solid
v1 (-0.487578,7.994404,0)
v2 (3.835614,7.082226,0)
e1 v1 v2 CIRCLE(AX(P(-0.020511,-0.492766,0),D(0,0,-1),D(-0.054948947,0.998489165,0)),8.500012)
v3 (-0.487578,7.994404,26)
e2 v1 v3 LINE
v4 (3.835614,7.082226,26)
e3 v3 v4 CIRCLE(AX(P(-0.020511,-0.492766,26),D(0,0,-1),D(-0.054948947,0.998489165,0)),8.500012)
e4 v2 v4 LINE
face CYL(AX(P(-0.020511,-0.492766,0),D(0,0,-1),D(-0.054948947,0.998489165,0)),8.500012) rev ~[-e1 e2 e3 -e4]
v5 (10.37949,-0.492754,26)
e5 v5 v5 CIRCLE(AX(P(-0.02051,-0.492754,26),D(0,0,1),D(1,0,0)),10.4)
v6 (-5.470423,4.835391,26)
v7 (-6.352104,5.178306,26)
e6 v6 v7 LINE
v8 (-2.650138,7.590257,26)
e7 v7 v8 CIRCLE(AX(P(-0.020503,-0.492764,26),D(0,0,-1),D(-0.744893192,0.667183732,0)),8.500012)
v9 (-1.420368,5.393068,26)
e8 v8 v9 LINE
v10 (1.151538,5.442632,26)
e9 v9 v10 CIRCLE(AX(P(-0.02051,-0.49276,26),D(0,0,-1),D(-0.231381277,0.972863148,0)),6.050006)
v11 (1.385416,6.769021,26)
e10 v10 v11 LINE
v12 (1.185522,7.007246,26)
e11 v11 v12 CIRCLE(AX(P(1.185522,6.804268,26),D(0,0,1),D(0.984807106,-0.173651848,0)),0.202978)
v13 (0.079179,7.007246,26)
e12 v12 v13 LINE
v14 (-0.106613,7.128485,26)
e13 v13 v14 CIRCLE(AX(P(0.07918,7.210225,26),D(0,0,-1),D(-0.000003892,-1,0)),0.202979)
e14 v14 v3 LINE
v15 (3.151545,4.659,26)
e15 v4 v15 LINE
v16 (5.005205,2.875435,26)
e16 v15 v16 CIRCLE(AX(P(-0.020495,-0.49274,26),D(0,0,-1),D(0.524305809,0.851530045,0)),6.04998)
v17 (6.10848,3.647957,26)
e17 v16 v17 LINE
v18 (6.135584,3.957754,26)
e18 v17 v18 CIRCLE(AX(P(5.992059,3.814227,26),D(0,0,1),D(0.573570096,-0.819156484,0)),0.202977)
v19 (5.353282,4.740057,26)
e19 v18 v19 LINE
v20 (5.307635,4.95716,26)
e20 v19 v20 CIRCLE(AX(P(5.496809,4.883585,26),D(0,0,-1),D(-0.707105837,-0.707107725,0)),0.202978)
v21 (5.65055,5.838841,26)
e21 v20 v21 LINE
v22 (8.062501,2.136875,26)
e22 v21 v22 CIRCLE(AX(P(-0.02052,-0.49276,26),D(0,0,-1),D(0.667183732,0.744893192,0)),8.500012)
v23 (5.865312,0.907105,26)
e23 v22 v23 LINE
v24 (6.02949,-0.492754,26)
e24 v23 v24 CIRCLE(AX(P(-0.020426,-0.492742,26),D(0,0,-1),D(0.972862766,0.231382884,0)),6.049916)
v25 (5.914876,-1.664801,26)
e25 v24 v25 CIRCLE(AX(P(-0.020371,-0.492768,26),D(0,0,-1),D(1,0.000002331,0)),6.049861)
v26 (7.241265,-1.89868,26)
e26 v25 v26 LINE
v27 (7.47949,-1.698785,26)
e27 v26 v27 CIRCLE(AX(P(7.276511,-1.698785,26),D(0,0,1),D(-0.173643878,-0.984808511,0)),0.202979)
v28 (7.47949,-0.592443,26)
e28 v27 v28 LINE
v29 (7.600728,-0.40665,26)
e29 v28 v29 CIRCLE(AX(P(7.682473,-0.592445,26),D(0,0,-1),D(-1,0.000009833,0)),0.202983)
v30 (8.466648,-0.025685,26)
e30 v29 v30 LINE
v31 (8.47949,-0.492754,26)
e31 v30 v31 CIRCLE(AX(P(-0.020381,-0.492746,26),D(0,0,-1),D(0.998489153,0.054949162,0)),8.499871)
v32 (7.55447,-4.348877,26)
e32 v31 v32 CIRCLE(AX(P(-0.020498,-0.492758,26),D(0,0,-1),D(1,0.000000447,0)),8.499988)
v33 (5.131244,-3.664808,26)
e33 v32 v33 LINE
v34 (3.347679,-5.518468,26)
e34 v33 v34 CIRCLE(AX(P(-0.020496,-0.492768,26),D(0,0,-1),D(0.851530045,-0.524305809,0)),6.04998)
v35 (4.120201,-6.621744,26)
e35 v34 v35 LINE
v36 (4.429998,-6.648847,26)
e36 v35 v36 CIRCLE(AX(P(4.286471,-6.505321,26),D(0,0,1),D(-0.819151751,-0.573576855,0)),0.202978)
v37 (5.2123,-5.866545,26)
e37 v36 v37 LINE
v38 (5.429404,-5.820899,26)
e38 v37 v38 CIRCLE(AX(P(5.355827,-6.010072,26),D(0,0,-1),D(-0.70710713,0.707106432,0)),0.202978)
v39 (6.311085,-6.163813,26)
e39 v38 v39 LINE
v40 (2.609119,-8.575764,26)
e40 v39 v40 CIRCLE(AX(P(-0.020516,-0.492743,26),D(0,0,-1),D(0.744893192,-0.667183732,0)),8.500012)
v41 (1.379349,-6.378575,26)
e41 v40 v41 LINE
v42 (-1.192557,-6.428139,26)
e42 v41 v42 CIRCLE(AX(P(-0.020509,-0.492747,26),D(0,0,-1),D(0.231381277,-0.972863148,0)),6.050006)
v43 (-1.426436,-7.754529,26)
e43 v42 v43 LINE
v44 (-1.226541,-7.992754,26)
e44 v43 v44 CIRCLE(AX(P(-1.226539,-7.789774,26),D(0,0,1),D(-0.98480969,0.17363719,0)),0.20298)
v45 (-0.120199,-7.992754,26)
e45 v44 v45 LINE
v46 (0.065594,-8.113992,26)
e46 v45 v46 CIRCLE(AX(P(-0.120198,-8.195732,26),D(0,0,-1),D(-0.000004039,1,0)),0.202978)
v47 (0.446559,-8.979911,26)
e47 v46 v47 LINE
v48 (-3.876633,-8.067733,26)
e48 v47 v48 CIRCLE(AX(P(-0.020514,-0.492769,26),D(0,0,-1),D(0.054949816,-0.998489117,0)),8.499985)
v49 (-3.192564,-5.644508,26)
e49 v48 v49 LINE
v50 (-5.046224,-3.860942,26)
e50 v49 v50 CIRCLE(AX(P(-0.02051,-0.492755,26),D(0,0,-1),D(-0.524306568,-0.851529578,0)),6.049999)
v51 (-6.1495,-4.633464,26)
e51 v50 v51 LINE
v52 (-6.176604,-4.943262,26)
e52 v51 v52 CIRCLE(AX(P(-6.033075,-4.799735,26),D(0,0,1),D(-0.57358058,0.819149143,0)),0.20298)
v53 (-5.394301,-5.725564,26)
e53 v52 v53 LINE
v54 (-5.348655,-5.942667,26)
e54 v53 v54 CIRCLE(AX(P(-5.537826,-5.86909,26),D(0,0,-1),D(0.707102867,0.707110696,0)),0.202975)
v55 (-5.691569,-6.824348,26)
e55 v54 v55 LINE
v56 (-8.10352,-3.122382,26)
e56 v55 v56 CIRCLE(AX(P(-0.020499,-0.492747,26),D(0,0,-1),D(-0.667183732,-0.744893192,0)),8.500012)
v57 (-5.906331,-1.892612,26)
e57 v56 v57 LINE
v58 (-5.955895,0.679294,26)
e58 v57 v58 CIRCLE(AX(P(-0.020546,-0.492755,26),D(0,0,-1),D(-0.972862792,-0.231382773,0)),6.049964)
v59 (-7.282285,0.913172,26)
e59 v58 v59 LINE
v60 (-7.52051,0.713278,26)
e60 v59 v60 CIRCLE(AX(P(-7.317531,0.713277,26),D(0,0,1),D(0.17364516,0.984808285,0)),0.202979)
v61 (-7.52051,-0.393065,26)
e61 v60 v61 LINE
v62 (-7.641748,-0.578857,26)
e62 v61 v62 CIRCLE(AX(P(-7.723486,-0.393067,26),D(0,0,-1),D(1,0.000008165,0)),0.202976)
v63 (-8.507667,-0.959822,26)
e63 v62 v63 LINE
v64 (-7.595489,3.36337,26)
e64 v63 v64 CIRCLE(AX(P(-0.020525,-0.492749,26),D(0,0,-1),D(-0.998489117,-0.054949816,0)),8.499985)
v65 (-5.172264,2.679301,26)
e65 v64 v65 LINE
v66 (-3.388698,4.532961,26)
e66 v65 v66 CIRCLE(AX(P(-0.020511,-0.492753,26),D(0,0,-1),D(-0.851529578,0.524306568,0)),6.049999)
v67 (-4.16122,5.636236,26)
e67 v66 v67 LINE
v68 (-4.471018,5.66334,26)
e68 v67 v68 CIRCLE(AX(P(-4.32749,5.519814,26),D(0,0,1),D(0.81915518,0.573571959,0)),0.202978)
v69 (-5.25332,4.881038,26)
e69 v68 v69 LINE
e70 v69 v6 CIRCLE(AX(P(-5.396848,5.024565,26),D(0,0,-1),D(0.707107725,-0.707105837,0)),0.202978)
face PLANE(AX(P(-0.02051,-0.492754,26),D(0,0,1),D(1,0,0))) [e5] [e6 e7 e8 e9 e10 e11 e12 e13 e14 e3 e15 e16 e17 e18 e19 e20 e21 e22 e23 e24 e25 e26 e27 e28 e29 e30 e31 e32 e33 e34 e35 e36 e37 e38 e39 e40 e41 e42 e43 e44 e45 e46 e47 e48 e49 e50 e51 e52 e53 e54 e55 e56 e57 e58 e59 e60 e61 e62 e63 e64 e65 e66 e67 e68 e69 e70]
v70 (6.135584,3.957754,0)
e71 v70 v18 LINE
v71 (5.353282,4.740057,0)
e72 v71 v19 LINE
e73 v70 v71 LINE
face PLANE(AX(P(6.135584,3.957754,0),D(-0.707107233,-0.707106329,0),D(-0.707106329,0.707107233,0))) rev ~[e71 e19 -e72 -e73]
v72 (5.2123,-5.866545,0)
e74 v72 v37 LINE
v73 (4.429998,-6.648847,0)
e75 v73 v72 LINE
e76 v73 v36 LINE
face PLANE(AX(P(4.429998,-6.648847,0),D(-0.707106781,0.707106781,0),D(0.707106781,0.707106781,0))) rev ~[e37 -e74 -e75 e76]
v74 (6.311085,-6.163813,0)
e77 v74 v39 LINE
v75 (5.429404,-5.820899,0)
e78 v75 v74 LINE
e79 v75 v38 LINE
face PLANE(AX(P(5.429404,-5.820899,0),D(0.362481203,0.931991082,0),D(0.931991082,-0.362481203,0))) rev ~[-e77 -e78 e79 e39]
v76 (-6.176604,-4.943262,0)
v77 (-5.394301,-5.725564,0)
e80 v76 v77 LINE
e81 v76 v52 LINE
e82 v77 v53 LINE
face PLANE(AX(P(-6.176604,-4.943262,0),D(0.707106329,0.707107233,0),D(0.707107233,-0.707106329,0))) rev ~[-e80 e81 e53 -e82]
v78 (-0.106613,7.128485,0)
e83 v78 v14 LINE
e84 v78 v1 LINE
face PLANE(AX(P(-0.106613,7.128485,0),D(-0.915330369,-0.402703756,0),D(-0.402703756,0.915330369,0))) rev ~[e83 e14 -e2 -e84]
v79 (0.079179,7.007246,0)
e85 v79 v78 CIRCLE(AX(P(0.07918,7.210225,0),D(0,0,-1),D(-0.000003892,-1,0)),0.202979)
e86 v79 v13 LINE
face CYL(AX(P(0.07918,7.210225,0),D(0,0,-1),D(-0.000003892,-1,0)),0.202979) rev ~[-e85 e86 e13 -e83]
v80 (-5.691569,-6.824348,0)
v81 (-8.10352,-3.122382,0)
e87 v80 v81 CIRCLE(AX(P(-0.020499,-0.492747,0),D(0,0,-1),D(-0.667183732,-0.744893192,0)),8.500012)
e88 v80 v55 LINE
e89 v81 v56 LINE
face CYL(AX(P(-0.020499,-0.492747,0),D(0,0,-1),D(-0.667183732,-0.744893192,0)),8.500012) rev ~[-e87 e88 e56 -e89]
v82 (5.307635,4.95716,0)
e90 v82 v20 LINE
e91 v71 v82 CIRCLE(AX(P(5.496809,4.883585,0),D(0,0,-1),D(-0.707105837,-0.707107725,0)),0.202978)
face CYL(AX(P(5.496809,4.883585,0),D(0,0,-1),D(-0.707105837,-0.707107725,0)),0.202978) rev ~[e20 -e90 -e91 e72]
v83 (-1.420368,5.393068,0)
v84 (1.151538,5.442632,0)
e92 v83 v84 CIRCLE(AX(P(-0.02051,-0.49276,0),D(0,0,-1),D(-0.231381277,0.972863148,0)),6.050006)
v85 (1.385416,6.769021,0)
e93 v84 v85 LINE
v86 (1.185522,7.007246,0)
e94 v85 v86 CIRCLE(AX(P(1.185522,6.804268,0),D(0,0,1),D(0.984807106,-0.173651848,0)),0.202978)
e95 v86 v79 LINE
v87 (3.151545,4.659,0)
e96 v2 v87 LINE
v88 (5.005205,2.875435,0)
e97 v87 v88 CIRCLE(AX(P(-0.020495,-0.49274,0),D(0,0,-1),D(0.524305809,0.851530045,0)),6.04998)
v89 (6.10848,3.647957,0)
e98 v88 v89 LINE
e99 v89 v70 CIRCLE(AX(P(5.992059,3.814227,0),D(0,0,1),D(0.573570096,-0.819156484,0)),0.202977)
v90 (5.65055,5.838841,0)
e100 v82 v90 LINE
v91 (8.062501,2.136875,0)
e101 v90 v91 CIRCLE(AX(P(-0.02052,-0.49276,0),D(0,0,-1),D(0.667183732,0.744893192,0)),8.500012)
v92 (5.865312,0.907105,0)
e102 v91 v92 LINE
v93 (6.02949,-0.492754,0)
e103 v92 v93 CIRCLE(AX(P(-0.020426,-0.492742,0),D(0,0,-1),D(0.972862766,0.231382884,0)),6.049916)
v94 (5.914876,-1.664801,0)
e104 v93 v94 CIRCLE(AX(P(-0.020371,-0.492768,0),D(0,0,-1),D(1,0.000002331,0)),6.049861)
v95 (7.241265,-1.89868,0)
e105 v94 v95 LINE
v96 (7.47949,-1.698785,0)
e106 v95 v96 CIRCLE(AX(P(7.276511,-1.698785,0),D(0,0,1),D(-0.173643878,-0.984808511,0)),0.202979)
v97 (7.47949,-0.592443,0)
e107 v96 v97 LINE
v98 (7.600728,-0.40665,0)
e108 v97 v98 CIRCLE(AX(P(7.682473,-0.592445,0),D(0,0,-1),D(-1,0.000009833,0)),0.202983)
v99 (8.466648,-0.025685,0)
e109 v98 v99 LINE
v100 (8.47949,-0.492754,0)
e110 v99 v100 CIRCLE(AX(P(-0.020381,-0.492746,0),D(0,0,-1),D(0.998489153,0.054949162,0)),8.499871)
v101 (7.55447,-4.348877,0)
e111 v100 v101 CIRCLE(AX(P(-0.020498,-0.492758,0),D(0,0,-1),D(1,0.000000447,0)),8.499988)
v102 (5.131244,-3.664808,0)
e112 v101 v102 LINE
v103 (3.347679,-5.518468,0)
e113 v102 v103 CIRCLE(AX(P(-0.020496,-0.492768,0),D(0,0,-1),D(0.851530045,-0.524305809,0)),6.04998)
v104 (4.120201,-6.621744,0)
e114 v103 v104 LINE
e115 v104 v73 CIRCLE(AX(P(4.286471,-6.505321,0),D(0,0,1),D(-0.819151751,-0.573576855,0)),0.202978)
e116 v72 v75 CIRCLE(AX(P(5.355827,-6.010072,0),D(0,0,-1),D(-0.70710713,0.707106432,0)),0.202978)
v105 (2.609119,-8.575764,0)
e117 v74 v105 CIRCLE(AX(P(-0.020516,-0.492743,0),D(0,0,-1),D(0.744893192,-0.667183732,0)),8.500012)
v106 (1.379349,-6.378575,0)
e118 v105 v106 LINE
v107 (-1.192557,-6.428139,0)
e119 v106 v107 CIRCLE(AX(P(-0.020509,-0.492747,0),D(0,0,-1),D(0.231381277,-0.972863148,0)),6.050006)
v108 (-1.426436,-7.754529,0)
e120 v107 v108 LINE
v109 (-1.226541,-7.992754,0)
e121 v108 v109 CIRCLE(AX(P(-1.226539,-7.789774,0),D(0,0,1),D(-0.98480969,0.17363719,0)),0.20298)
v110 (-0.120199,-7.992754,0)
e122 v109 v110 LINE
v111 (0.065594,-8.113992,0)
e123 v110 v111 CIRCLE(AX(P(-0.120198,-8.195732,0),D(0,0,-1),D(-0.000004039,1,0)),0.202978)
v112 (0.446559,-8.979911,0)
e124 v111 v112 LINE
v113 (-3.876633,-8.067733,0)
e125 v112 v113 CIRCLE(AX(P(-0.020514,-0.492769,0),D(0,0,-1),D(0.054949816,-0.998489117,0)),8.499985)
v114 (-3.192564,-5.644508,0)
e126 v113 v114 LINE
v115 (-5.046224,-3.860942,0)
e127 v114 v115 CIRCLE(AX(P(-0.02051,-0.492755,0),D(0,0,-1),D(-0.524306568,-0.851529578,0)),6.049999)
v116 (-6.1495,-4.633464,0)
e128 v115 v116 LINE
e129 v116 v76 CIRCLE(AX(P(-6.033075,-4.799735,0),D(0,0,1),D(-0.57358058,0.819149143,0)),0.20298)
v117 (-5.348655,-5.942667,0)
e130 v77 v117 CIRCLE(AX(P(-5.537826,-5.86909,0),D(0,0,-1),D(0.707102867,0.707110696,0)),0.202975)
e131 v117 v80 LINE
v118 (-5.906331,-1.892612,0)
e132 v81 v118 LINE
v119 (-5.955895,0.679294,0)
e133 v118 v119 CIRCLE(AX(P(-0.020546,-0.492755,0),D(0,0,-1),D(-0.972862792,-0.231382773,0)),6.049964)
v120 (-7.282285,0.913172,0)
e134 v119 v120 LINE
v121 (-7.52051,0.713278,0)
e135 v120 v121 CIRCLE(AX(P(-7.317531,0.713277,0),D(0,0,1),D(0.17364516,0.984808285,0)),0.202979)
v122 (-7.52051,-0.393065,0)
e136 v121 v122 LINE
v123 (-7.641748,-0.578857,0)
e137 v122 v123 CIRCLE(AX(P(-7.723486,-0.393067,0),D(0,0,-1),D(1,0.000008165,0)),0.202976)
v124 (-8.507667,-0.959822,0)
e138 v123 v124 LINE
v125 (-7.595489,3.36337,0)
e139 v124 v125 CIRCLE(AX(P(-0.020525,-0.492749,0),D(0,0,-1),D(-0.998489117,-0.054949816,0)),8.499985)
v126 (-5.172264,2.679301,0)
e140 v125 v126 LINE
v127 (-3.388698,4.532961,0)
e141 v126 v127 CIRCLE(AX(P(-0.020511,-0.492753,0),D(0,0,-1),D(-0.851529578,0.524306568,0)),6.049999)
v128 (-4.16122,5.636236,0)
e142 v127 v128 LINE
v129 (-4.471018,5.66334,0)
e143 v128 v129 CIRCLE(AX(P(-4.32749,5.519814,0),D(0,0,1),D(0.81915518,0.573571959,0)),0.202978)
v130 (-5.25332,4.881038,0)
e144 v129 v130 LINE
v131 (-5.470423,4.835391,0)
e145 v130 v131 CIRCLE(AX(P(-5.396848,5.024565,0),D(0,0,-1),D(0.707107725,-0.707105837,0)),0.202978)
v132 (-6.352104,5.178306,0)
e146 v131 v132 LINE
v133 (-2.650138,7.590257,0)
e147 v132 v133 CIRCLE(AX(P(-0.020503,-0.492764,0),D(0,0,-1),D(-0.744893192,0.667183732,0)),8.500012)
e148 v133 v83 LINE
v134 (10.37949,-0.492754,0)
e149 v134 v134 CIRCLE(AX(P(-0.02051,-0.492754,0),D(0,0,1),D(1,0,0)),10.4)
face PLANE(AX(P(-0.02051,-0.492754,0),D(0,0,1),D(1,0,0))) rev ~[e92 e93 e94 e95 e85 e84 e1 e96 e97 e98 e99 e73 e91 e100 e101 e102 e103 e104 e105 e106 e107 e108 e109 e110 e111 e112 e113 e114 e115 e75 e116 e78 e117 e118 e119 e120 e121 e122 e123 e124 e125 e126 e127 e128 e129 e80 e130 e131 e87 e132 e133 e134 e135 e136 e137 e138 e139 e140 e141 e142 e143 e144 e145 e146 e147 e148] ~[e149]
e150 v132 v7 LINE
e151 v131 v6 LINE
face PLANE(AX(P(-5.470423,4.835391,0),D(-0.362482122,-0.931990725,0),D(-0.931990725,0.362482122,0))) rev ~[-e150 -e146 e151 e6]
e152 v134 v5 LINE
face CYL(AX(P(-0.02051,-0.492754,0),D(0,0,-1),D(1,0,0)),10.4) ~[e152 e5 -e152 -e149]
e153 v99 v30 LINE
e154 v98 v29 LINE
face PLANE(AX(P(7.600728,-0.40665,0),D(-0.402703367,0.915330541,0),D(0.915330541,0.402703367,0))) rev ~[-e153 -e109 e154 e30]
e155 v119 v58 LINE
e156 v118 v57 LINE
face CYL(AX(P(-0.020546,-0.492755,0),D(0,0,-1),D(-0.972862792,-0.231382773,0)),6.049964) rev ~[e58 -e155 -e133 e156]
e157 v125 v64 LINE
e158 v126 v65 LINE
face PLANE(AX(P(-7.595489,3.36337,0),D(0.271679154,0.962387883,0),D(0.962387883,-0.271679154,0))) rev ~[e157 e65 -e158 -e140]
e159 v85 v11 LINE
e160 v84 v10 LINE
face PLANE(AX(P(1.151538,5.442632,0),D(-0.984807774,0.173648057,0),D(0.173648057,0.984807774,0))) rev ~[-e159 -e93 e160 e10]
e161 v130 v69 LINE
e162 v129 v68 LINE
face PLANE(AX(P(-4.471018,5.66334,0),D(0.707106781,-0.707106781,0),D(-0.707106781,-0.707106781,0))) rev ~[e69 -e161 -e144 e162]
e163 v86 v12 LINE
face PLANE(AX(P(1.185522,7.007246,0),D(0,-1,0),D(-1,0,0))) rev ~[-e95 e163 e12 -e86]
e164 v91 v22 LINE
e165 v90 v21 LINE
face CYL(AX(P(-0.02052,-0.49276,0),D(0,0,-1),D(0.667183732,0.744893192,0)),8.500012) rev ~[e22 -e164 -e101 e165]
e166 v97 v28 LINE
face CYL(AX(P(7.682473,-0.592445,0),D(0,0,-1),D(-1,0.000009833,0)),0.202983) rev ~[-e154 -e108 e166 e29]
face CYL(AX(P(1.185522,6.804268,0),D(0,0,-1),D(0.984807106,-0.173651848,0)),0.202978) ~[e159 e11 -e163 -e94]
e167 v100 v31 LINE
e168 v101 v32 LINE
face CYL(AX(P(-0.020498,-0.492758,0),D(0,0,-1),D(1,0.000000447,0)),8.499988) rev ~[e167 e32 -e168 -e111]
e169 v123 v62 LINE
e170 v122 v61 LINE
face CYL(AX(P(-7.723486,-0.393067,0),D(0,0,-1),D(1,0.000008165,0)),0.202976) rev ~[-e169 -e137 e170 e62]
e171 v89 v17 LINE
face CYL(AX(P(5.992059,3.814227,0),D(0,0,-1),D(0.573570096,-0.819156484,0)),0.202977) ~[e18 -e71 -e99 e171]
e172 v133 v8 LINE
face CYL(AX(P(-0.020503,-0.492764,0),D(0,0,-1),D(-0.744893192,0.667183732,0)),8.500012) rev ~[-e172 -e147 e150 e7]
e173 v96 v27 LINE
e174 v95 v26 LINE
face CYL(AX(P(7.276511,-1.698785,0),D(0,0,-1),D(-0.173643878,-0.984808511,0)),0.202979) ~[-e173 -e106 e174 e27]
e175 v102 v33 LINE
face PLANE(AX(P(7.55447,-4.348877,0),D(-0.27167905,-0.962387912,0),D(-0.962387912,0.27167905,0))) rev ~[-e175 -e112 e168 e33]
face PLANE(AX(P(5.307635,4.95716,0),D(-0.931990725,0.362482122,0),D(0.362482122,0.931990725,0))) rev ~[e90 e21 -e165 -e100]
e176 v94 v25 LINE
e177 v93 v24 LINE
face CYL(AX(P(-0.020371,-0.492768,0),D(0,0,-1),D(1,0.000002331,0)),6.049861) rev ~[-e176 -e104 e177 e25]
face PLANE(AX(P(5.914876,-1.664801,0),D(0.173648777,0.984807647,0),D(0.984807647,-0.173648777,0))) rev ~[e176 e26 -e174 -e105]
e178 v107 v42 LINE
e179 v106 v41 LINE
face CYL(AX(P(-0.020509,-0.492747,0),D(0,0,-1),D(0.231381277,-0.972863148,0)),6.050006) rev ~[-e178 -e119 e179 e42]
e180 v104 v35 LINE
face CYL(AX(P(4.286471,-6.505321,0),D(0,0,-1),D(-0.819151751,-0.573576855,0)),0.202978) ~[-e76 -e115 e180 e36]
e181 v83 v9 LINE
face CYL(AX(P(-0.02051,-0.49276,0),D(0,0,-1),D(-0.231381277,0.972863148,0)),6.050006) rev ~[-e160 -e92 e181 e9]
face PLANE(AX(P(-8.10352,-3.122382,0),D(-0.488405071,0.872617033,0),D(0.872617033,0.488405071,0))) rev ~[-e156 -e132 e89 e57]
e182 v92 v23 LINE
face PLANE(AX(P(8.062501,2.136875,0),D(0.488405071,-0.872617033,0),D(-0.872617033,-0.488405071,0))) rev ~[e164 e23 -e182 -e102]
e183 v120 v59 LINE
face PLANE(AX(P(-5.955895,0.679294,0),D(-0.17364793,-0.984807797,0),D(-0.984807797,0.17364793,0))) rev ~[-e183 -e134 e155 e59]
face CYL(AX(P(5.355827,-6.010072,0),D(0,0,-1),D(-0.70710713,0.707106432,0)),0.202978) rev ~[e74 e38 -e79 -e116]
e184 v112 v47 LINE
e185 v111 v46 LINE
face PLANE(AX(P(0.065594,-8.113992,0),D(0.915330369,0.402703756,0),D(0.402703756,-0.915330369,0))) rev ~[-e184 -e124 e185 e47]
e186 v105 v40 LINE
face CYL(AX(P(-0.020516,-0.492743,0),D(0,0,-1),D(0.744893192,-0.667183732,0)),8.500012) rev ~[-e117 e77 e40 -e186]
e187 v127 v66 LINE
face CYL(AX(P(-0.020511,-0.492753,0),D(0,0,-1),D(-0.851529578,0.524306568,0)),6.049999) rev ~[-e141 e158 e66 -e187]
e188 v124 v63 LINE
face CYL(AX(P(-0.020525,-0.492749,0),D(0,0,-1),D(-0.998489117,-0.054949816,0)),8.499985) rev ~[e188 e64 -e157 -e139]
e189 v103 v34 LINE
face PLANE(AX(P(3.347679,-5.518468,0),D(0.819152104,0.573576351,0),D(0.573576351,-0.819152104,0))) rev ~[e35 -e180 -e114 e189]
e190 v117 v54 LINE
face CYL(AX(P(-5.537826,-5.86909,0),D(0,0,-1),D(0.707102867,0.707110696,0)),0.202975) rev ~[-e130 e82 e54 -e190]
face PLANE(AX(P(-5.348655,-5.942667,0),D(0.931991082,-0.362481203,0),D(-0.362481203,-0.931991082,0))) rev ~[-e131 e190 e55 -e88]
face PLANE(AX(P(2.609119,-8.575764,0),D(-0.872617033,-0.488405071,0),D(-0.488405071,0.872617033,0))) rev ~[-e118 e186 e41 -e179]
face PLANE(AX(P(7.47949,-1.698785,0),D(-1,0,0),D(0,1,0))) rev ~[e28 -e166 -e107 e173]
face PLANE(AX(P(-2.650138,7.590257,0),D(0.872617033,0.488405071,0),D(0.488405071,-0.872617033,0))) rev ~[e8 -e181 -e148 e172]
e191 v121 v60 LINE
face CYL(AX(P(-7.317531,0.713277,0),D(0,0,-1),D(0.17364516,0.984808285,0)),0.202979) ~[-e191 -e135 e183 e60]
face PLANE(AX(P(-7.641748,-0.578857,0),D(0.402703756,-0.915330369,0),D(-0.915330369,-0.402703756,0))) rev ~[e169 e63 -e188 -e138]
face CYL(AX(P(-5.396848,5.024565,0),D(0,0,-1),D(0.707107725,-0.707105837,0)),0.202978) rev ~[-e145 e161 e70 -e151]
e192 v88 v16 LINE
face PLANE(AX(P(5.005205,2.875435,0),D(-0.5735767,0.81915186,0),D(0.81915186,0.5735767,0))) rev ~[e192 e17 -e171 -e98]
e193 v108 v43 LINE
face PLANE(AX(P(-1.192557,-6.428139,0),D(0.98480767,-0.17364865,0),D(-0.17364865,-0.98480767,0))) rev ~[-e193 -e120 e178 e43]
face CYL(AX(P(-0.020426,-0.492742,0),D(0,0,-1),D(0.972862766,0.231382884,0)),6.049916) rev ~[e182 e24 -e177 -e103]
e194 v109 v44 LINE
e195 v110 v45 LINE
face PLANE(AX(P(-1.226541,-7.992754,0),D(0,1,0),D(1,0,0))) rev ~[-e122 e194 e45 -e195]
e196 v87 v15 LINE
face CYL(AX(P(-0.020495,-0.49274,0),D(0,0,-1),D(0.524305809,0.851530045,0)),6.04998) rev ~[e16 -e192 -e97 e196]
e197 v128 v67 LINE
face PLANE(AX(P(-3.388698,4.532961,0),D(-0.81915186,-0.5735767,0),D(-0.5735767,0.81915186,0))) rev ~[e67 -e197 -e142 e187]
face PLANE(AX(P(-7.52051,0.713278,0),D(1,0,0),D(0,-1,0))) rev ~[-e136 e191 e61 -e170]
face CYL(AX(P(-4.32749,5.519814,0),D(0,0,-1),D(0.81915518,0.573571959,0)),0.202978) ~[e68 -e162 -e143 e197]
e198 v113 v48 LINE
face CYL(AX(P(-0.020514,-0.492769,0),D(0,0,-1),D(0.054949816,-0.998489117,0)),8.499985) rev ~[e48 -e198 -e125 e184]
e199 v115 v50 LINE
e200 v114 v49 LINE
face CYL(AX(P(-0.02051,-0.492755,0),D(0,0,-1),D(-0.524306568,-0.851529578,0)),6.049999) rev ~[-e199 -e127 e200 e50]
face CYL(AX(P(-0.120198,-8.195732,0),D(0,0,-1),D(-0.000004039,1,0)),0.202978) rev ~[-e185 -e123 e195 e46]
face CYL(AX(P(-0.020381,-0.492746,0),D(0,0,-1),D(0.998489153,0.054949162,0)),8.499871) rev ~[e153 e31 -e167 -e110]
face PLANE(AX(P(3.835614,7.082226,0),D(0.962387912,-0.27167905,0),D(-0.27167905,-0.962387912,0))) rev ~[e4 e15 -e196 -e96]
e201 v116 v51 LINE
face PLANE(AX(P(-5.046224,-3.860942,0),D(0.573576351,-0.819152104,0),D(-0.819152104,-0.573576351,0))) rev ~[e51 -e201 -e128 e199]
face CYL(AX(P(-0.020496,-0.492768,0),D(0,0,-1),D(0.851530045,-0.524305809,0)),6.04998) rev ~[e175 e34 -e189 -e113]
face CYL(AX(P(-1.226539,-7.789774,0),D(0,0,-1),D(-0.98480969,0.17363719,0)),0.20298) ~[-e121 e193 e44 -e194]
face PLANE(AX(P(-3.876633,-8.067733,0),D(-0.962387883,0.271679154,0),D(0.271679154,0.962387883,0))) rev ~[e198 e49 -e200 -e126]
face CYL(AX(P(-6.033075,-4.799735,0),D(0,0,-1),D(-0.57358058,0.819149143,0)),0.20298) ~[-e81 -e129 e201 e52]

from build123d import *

# Parameters (mm, degrees)
F0_R     = 10.4
F1_DEPTH = 26


with BuildPart() as f1:
    # F0 (on Top) → F1 (new body)
    with BuildSketch(Plane.XY):
        with Locations((-0.02051, -0.492754)):
            Circle(F0_R)
        with BuildLine():
            ThreePointArc((5.65055, 5.838841), (7.10127, 4.147317), (8.062501, 2.136875))
            ThreePointArc((8.062501, 2.136875), (8.334835, 1.068726), (8.466648, -0.025685))
            ThreePointArc((8.466648, -0.025685), (8.476279, -0.259131), (8.47949, -0.492754))
            ThreePointArc((8.47949, -0.492754), (8.245001, -2.475514), (7.55447, -4.348877))
            ThreePointArc((7.55447, -4.348877), (6.991744, -5.296742), (6.311085, -6.163813))
            ThreePointArc((6.311085, -6.163813), (4.619561, -7.614533), (2.609119, -8.575764))
            ThreePointArc((2.609119, -8.575764), (1.540969, -8.848098), (0.446559, -8.979911))
            ThreePointArc((0.446559, -8.979911), (-1.775343, -8.809638), (-3.876633, -8.067733))
            ThreePointArc((-3.876633, -8.067733), (-4.824498, -7.505007), (-5.691569, -6.824348))
            ThreePointArc((-5.691569, -6.824348), (-7.142289, -5.132824), (-8.10352, -3.122382))
            ThreePointArc((-8.10352, -3.122382), (-8.375854, -2.054233), (-8.507667, -0.959822))
            ThreePointArc((-8.507667, -0.959822), (-8.337394, 1.26208), (-7.595489, 3.36337))
            ThreePointArc((-7.595489, 3.36337), (-7.032763, 4.311235), (-6.352104, 5.178306))
            ThreePointArc((-6.352104, 5.178306), (-4.66058, 6.629026), (-2.650138, 7.590257))
            ThreePointArc((-2.650138, 7.590257), (-1.581989, 7.862591), (-0.487578, 7.994404))
            ThreePointArc((-0.487578, 7.994404), (1.734324, 7.82413), (3.835614, 7.082226))
            ThreePointArc((3.835614, 7.082226), (4.783479, 6.5195), (5.65055, 5.838841))
        make_face(mode=Mode.SUBTRACT)
        with BuildLine():
            ThreePointArc((-5.906331, -1.892612), (-6.069387, -0.609324), (-5.955895, 0.679294))
            Line((-5.955895, 0.679294), (-7.282285, 0.913172))
            ThreePointArc((-7.282285, 0.913172), (-7.448003, 0.868768), (-7.52051, 0.713278))
            Line((-7.52051, 0.713278), (-7.52051, -0.393065))
            ThreePointArc((-7.52051, -0.393065), (-7.5535, -0.50399), (-7.641748, -0.578857))
            Line((-7.641748, -0.578857), (-8.507667, -0.959822))
            ThreePointArc((-8.507667, -0.959822), (-8.375854, -2.054233), (-8.10352, -3.122382))
            Line((-8.10352, -3.122382), (-5.906331, -1.892612))
        make_face()
        with BuildLine():
            ThreePointArc((-5.172264, 2.679301), (-4.380139, 3.702021), (-3.388698, 4.532961))
            Line((-3.388698, 4.532961), (-4.16122, 5.636236))
            ThreePointArc((-4.16122, 5.636236), (-4.309799, 5.722019), (-4.471018, 5.66334))
            Line((-4.471018, 5.66334), (-5.25332, 4.881038))
            ThreePointArc((-5.25332, 4.881038), (-5.355083, 4.82593), (-5.470423, 4.835391))
            Line((-5.470423, 4.835391), (-6.352104, 5.178306))
            ThreePointArc((-6.352104, 5.178306), (-7.032763, 4.311235), (-7.595489, 3.36337))
            Line((-7.595489, 3.36337), (-5.172264, 2.679301))
        make_face()
        with BuildLine():
            ThreePointArc((-1.420368, 5.393068), (-0.13708, 5.556123), (1.151538, 5.442632))
            Line((1.151538, 5.442632), (1.385416, 6.769021))
            ThreePointArc((1.385416, 6.769021), (1.341012, 6.93474), (1.185522, 7.007246))
            Line((1.185522, 7.007246), (0.079179, 7.007246))
            ThreePointArc((0.079179, 7.007246), (-0.031746, 7.040237), (-0.106613, 7.128485))
            Line((-0.106613, 7.128485), (-0.487578, 7.994404))
            ThreePointArc((-0.487578, 7.994404), (-1.581989, 7.862591), (-2.650138, 7.590257))
            Line((-2.650138, 7.590257), (-1.420368, 5.393068))
        make_face()
        with BuildLine():
            ThreePointArc((3.151545, 4.659), (4.174265, 3.866876), (5.005205, 2.875435))
            Line((5.005205, 2.875435), (6.10848, 3.647957))
            ThreePointArc((6.10848, 3.647957), (6.194263, 3.796536), (6.135584, 3.957754))
            Line((6.135584, 3.957754), (5.353282, 4.740057))
            ThreePointArc((5.353282, 4.740057), (5.298174, 4.84182), (5.307635, 4.95716))
            Line((5.307635, 4.95716), (5.65055, 5.838841))
            ThreePointArc((5.65055, 5.838841), (4.783479, 6.5195), (3.835614, 7.082226))
            Line((3.835614, 7.082226), (3.151545, 4.659))
        make_face()
        with BuildLine():
            ThreePointArc((5.865312, 0.907105), (5.988306, 0.211973), (6.02949, -0.492754))
            ThreePointArc((6.02949, -0.492754), (6.000769, -1.081573), (5.914876, -1.664801))
            Line((5.914876, -1.664801), (7.241265, -1.89868))
            ThreePointArc((7.241265, -1.89868), (7.406984, -1.854275), (7.47949, -1.698785))
            Line((7.47949, -1.698785), (7.47949, -0.592443))
            ThreePointArc((7.47949, -0.592443), (7.512481, -0.481518), (7.600728, -0.40665))
            Line((7.600728, -0.40665), (8.466648, -0.025685))
            ThreePointArc((8.466648, -0.025685), (8.334835, 1.068726), (8.062501, 2.136875))
            Line((8.062501, 2.136875), (5.865312, 0.907105))
        make_face()
        with BuildLine():
            Line((7.55447, -4.348877), (5.131244, -3.664808))
            ThreePointArc((5.131244, -3.664808), (4.33912, -4.687528), (3.347679, -5.518468))
            Line((3.347679, -5.518468), (4.120201, -6.621744))
            ThreePointArc((4.120201, -6.621744), (4.26878, -6.707526), (4.429998, -6.648847))
            Line((4.429998, -6.648847), (5.2123, -5.866545))
            ThreePointArc((5.2123, -5.866545), (5.314064, -5.811437), (5.429404, -5.820899))
            Line((5.429404, -5.820899), (6.311085, -6.163813))
            ThreePointArc((6.311085, -6.163813), (6.991744, -5.296742), (7.55447, -4.348877))
        make_face()
        with BuildLine():
            Line((2.609119, -8.575764), (1.379349, -6.378575))
            ThreePointArc((1.379349, -6.378575), (0.096061, -6.54163), (-1.192557, -6.428139))
            Line((-1.192557, -6.428139), (-1.426436, -7.754529))
            ThreePointArc((-1.426436, -7.754529), (-1.382031, -7.920247), (-1.226541, -7.992754))
            Line((-1.226541, -7.992754), (-0.120199, -7.992754))
            ThreePointArc((-0.120199, -7.992754), (-0.009274, -8.025744), (0.065594, -8.113992))
            Line((0.065594, -8.113992), (0.446559, -8.979911))
            ThreePointArc((0.446559, -8.979911), (1.540969, -8.848098), (2.609119, -8.575764))
        make_face()
        with BuildLine():
            Line((-3.876633, -8.067733), (-3.192564, -5.644508))
            ThreePointArc((-3.192564, -5.644508), (-4.215284, -4.852383), (-5.046224, -3.860942))
            Line((-5.046224, -3.860942), (-6.1495, -4.633464))
            ThreePointArc((-6.1495, -4.633464), (-6.235282, -4.782043), (-6.176604, -4.943262))
            Line((-6.176604, -4.943262), (-5.394301, -5.725564))
            ThreePointArc((-5.394301, -5.725564), (-5.339193, -5.827327), (-5.348655, -5.942667))
            Line((-5.348655, -5.942667), (-5.691569, -6.824348))
            ThreePointArc((-5.691569, -6.824348), (-4.824498, -7.505007), (-3.876633, -8.067733))
        make_face()
    extrude(amount=F1_DEPTH)


solid = f1.part
